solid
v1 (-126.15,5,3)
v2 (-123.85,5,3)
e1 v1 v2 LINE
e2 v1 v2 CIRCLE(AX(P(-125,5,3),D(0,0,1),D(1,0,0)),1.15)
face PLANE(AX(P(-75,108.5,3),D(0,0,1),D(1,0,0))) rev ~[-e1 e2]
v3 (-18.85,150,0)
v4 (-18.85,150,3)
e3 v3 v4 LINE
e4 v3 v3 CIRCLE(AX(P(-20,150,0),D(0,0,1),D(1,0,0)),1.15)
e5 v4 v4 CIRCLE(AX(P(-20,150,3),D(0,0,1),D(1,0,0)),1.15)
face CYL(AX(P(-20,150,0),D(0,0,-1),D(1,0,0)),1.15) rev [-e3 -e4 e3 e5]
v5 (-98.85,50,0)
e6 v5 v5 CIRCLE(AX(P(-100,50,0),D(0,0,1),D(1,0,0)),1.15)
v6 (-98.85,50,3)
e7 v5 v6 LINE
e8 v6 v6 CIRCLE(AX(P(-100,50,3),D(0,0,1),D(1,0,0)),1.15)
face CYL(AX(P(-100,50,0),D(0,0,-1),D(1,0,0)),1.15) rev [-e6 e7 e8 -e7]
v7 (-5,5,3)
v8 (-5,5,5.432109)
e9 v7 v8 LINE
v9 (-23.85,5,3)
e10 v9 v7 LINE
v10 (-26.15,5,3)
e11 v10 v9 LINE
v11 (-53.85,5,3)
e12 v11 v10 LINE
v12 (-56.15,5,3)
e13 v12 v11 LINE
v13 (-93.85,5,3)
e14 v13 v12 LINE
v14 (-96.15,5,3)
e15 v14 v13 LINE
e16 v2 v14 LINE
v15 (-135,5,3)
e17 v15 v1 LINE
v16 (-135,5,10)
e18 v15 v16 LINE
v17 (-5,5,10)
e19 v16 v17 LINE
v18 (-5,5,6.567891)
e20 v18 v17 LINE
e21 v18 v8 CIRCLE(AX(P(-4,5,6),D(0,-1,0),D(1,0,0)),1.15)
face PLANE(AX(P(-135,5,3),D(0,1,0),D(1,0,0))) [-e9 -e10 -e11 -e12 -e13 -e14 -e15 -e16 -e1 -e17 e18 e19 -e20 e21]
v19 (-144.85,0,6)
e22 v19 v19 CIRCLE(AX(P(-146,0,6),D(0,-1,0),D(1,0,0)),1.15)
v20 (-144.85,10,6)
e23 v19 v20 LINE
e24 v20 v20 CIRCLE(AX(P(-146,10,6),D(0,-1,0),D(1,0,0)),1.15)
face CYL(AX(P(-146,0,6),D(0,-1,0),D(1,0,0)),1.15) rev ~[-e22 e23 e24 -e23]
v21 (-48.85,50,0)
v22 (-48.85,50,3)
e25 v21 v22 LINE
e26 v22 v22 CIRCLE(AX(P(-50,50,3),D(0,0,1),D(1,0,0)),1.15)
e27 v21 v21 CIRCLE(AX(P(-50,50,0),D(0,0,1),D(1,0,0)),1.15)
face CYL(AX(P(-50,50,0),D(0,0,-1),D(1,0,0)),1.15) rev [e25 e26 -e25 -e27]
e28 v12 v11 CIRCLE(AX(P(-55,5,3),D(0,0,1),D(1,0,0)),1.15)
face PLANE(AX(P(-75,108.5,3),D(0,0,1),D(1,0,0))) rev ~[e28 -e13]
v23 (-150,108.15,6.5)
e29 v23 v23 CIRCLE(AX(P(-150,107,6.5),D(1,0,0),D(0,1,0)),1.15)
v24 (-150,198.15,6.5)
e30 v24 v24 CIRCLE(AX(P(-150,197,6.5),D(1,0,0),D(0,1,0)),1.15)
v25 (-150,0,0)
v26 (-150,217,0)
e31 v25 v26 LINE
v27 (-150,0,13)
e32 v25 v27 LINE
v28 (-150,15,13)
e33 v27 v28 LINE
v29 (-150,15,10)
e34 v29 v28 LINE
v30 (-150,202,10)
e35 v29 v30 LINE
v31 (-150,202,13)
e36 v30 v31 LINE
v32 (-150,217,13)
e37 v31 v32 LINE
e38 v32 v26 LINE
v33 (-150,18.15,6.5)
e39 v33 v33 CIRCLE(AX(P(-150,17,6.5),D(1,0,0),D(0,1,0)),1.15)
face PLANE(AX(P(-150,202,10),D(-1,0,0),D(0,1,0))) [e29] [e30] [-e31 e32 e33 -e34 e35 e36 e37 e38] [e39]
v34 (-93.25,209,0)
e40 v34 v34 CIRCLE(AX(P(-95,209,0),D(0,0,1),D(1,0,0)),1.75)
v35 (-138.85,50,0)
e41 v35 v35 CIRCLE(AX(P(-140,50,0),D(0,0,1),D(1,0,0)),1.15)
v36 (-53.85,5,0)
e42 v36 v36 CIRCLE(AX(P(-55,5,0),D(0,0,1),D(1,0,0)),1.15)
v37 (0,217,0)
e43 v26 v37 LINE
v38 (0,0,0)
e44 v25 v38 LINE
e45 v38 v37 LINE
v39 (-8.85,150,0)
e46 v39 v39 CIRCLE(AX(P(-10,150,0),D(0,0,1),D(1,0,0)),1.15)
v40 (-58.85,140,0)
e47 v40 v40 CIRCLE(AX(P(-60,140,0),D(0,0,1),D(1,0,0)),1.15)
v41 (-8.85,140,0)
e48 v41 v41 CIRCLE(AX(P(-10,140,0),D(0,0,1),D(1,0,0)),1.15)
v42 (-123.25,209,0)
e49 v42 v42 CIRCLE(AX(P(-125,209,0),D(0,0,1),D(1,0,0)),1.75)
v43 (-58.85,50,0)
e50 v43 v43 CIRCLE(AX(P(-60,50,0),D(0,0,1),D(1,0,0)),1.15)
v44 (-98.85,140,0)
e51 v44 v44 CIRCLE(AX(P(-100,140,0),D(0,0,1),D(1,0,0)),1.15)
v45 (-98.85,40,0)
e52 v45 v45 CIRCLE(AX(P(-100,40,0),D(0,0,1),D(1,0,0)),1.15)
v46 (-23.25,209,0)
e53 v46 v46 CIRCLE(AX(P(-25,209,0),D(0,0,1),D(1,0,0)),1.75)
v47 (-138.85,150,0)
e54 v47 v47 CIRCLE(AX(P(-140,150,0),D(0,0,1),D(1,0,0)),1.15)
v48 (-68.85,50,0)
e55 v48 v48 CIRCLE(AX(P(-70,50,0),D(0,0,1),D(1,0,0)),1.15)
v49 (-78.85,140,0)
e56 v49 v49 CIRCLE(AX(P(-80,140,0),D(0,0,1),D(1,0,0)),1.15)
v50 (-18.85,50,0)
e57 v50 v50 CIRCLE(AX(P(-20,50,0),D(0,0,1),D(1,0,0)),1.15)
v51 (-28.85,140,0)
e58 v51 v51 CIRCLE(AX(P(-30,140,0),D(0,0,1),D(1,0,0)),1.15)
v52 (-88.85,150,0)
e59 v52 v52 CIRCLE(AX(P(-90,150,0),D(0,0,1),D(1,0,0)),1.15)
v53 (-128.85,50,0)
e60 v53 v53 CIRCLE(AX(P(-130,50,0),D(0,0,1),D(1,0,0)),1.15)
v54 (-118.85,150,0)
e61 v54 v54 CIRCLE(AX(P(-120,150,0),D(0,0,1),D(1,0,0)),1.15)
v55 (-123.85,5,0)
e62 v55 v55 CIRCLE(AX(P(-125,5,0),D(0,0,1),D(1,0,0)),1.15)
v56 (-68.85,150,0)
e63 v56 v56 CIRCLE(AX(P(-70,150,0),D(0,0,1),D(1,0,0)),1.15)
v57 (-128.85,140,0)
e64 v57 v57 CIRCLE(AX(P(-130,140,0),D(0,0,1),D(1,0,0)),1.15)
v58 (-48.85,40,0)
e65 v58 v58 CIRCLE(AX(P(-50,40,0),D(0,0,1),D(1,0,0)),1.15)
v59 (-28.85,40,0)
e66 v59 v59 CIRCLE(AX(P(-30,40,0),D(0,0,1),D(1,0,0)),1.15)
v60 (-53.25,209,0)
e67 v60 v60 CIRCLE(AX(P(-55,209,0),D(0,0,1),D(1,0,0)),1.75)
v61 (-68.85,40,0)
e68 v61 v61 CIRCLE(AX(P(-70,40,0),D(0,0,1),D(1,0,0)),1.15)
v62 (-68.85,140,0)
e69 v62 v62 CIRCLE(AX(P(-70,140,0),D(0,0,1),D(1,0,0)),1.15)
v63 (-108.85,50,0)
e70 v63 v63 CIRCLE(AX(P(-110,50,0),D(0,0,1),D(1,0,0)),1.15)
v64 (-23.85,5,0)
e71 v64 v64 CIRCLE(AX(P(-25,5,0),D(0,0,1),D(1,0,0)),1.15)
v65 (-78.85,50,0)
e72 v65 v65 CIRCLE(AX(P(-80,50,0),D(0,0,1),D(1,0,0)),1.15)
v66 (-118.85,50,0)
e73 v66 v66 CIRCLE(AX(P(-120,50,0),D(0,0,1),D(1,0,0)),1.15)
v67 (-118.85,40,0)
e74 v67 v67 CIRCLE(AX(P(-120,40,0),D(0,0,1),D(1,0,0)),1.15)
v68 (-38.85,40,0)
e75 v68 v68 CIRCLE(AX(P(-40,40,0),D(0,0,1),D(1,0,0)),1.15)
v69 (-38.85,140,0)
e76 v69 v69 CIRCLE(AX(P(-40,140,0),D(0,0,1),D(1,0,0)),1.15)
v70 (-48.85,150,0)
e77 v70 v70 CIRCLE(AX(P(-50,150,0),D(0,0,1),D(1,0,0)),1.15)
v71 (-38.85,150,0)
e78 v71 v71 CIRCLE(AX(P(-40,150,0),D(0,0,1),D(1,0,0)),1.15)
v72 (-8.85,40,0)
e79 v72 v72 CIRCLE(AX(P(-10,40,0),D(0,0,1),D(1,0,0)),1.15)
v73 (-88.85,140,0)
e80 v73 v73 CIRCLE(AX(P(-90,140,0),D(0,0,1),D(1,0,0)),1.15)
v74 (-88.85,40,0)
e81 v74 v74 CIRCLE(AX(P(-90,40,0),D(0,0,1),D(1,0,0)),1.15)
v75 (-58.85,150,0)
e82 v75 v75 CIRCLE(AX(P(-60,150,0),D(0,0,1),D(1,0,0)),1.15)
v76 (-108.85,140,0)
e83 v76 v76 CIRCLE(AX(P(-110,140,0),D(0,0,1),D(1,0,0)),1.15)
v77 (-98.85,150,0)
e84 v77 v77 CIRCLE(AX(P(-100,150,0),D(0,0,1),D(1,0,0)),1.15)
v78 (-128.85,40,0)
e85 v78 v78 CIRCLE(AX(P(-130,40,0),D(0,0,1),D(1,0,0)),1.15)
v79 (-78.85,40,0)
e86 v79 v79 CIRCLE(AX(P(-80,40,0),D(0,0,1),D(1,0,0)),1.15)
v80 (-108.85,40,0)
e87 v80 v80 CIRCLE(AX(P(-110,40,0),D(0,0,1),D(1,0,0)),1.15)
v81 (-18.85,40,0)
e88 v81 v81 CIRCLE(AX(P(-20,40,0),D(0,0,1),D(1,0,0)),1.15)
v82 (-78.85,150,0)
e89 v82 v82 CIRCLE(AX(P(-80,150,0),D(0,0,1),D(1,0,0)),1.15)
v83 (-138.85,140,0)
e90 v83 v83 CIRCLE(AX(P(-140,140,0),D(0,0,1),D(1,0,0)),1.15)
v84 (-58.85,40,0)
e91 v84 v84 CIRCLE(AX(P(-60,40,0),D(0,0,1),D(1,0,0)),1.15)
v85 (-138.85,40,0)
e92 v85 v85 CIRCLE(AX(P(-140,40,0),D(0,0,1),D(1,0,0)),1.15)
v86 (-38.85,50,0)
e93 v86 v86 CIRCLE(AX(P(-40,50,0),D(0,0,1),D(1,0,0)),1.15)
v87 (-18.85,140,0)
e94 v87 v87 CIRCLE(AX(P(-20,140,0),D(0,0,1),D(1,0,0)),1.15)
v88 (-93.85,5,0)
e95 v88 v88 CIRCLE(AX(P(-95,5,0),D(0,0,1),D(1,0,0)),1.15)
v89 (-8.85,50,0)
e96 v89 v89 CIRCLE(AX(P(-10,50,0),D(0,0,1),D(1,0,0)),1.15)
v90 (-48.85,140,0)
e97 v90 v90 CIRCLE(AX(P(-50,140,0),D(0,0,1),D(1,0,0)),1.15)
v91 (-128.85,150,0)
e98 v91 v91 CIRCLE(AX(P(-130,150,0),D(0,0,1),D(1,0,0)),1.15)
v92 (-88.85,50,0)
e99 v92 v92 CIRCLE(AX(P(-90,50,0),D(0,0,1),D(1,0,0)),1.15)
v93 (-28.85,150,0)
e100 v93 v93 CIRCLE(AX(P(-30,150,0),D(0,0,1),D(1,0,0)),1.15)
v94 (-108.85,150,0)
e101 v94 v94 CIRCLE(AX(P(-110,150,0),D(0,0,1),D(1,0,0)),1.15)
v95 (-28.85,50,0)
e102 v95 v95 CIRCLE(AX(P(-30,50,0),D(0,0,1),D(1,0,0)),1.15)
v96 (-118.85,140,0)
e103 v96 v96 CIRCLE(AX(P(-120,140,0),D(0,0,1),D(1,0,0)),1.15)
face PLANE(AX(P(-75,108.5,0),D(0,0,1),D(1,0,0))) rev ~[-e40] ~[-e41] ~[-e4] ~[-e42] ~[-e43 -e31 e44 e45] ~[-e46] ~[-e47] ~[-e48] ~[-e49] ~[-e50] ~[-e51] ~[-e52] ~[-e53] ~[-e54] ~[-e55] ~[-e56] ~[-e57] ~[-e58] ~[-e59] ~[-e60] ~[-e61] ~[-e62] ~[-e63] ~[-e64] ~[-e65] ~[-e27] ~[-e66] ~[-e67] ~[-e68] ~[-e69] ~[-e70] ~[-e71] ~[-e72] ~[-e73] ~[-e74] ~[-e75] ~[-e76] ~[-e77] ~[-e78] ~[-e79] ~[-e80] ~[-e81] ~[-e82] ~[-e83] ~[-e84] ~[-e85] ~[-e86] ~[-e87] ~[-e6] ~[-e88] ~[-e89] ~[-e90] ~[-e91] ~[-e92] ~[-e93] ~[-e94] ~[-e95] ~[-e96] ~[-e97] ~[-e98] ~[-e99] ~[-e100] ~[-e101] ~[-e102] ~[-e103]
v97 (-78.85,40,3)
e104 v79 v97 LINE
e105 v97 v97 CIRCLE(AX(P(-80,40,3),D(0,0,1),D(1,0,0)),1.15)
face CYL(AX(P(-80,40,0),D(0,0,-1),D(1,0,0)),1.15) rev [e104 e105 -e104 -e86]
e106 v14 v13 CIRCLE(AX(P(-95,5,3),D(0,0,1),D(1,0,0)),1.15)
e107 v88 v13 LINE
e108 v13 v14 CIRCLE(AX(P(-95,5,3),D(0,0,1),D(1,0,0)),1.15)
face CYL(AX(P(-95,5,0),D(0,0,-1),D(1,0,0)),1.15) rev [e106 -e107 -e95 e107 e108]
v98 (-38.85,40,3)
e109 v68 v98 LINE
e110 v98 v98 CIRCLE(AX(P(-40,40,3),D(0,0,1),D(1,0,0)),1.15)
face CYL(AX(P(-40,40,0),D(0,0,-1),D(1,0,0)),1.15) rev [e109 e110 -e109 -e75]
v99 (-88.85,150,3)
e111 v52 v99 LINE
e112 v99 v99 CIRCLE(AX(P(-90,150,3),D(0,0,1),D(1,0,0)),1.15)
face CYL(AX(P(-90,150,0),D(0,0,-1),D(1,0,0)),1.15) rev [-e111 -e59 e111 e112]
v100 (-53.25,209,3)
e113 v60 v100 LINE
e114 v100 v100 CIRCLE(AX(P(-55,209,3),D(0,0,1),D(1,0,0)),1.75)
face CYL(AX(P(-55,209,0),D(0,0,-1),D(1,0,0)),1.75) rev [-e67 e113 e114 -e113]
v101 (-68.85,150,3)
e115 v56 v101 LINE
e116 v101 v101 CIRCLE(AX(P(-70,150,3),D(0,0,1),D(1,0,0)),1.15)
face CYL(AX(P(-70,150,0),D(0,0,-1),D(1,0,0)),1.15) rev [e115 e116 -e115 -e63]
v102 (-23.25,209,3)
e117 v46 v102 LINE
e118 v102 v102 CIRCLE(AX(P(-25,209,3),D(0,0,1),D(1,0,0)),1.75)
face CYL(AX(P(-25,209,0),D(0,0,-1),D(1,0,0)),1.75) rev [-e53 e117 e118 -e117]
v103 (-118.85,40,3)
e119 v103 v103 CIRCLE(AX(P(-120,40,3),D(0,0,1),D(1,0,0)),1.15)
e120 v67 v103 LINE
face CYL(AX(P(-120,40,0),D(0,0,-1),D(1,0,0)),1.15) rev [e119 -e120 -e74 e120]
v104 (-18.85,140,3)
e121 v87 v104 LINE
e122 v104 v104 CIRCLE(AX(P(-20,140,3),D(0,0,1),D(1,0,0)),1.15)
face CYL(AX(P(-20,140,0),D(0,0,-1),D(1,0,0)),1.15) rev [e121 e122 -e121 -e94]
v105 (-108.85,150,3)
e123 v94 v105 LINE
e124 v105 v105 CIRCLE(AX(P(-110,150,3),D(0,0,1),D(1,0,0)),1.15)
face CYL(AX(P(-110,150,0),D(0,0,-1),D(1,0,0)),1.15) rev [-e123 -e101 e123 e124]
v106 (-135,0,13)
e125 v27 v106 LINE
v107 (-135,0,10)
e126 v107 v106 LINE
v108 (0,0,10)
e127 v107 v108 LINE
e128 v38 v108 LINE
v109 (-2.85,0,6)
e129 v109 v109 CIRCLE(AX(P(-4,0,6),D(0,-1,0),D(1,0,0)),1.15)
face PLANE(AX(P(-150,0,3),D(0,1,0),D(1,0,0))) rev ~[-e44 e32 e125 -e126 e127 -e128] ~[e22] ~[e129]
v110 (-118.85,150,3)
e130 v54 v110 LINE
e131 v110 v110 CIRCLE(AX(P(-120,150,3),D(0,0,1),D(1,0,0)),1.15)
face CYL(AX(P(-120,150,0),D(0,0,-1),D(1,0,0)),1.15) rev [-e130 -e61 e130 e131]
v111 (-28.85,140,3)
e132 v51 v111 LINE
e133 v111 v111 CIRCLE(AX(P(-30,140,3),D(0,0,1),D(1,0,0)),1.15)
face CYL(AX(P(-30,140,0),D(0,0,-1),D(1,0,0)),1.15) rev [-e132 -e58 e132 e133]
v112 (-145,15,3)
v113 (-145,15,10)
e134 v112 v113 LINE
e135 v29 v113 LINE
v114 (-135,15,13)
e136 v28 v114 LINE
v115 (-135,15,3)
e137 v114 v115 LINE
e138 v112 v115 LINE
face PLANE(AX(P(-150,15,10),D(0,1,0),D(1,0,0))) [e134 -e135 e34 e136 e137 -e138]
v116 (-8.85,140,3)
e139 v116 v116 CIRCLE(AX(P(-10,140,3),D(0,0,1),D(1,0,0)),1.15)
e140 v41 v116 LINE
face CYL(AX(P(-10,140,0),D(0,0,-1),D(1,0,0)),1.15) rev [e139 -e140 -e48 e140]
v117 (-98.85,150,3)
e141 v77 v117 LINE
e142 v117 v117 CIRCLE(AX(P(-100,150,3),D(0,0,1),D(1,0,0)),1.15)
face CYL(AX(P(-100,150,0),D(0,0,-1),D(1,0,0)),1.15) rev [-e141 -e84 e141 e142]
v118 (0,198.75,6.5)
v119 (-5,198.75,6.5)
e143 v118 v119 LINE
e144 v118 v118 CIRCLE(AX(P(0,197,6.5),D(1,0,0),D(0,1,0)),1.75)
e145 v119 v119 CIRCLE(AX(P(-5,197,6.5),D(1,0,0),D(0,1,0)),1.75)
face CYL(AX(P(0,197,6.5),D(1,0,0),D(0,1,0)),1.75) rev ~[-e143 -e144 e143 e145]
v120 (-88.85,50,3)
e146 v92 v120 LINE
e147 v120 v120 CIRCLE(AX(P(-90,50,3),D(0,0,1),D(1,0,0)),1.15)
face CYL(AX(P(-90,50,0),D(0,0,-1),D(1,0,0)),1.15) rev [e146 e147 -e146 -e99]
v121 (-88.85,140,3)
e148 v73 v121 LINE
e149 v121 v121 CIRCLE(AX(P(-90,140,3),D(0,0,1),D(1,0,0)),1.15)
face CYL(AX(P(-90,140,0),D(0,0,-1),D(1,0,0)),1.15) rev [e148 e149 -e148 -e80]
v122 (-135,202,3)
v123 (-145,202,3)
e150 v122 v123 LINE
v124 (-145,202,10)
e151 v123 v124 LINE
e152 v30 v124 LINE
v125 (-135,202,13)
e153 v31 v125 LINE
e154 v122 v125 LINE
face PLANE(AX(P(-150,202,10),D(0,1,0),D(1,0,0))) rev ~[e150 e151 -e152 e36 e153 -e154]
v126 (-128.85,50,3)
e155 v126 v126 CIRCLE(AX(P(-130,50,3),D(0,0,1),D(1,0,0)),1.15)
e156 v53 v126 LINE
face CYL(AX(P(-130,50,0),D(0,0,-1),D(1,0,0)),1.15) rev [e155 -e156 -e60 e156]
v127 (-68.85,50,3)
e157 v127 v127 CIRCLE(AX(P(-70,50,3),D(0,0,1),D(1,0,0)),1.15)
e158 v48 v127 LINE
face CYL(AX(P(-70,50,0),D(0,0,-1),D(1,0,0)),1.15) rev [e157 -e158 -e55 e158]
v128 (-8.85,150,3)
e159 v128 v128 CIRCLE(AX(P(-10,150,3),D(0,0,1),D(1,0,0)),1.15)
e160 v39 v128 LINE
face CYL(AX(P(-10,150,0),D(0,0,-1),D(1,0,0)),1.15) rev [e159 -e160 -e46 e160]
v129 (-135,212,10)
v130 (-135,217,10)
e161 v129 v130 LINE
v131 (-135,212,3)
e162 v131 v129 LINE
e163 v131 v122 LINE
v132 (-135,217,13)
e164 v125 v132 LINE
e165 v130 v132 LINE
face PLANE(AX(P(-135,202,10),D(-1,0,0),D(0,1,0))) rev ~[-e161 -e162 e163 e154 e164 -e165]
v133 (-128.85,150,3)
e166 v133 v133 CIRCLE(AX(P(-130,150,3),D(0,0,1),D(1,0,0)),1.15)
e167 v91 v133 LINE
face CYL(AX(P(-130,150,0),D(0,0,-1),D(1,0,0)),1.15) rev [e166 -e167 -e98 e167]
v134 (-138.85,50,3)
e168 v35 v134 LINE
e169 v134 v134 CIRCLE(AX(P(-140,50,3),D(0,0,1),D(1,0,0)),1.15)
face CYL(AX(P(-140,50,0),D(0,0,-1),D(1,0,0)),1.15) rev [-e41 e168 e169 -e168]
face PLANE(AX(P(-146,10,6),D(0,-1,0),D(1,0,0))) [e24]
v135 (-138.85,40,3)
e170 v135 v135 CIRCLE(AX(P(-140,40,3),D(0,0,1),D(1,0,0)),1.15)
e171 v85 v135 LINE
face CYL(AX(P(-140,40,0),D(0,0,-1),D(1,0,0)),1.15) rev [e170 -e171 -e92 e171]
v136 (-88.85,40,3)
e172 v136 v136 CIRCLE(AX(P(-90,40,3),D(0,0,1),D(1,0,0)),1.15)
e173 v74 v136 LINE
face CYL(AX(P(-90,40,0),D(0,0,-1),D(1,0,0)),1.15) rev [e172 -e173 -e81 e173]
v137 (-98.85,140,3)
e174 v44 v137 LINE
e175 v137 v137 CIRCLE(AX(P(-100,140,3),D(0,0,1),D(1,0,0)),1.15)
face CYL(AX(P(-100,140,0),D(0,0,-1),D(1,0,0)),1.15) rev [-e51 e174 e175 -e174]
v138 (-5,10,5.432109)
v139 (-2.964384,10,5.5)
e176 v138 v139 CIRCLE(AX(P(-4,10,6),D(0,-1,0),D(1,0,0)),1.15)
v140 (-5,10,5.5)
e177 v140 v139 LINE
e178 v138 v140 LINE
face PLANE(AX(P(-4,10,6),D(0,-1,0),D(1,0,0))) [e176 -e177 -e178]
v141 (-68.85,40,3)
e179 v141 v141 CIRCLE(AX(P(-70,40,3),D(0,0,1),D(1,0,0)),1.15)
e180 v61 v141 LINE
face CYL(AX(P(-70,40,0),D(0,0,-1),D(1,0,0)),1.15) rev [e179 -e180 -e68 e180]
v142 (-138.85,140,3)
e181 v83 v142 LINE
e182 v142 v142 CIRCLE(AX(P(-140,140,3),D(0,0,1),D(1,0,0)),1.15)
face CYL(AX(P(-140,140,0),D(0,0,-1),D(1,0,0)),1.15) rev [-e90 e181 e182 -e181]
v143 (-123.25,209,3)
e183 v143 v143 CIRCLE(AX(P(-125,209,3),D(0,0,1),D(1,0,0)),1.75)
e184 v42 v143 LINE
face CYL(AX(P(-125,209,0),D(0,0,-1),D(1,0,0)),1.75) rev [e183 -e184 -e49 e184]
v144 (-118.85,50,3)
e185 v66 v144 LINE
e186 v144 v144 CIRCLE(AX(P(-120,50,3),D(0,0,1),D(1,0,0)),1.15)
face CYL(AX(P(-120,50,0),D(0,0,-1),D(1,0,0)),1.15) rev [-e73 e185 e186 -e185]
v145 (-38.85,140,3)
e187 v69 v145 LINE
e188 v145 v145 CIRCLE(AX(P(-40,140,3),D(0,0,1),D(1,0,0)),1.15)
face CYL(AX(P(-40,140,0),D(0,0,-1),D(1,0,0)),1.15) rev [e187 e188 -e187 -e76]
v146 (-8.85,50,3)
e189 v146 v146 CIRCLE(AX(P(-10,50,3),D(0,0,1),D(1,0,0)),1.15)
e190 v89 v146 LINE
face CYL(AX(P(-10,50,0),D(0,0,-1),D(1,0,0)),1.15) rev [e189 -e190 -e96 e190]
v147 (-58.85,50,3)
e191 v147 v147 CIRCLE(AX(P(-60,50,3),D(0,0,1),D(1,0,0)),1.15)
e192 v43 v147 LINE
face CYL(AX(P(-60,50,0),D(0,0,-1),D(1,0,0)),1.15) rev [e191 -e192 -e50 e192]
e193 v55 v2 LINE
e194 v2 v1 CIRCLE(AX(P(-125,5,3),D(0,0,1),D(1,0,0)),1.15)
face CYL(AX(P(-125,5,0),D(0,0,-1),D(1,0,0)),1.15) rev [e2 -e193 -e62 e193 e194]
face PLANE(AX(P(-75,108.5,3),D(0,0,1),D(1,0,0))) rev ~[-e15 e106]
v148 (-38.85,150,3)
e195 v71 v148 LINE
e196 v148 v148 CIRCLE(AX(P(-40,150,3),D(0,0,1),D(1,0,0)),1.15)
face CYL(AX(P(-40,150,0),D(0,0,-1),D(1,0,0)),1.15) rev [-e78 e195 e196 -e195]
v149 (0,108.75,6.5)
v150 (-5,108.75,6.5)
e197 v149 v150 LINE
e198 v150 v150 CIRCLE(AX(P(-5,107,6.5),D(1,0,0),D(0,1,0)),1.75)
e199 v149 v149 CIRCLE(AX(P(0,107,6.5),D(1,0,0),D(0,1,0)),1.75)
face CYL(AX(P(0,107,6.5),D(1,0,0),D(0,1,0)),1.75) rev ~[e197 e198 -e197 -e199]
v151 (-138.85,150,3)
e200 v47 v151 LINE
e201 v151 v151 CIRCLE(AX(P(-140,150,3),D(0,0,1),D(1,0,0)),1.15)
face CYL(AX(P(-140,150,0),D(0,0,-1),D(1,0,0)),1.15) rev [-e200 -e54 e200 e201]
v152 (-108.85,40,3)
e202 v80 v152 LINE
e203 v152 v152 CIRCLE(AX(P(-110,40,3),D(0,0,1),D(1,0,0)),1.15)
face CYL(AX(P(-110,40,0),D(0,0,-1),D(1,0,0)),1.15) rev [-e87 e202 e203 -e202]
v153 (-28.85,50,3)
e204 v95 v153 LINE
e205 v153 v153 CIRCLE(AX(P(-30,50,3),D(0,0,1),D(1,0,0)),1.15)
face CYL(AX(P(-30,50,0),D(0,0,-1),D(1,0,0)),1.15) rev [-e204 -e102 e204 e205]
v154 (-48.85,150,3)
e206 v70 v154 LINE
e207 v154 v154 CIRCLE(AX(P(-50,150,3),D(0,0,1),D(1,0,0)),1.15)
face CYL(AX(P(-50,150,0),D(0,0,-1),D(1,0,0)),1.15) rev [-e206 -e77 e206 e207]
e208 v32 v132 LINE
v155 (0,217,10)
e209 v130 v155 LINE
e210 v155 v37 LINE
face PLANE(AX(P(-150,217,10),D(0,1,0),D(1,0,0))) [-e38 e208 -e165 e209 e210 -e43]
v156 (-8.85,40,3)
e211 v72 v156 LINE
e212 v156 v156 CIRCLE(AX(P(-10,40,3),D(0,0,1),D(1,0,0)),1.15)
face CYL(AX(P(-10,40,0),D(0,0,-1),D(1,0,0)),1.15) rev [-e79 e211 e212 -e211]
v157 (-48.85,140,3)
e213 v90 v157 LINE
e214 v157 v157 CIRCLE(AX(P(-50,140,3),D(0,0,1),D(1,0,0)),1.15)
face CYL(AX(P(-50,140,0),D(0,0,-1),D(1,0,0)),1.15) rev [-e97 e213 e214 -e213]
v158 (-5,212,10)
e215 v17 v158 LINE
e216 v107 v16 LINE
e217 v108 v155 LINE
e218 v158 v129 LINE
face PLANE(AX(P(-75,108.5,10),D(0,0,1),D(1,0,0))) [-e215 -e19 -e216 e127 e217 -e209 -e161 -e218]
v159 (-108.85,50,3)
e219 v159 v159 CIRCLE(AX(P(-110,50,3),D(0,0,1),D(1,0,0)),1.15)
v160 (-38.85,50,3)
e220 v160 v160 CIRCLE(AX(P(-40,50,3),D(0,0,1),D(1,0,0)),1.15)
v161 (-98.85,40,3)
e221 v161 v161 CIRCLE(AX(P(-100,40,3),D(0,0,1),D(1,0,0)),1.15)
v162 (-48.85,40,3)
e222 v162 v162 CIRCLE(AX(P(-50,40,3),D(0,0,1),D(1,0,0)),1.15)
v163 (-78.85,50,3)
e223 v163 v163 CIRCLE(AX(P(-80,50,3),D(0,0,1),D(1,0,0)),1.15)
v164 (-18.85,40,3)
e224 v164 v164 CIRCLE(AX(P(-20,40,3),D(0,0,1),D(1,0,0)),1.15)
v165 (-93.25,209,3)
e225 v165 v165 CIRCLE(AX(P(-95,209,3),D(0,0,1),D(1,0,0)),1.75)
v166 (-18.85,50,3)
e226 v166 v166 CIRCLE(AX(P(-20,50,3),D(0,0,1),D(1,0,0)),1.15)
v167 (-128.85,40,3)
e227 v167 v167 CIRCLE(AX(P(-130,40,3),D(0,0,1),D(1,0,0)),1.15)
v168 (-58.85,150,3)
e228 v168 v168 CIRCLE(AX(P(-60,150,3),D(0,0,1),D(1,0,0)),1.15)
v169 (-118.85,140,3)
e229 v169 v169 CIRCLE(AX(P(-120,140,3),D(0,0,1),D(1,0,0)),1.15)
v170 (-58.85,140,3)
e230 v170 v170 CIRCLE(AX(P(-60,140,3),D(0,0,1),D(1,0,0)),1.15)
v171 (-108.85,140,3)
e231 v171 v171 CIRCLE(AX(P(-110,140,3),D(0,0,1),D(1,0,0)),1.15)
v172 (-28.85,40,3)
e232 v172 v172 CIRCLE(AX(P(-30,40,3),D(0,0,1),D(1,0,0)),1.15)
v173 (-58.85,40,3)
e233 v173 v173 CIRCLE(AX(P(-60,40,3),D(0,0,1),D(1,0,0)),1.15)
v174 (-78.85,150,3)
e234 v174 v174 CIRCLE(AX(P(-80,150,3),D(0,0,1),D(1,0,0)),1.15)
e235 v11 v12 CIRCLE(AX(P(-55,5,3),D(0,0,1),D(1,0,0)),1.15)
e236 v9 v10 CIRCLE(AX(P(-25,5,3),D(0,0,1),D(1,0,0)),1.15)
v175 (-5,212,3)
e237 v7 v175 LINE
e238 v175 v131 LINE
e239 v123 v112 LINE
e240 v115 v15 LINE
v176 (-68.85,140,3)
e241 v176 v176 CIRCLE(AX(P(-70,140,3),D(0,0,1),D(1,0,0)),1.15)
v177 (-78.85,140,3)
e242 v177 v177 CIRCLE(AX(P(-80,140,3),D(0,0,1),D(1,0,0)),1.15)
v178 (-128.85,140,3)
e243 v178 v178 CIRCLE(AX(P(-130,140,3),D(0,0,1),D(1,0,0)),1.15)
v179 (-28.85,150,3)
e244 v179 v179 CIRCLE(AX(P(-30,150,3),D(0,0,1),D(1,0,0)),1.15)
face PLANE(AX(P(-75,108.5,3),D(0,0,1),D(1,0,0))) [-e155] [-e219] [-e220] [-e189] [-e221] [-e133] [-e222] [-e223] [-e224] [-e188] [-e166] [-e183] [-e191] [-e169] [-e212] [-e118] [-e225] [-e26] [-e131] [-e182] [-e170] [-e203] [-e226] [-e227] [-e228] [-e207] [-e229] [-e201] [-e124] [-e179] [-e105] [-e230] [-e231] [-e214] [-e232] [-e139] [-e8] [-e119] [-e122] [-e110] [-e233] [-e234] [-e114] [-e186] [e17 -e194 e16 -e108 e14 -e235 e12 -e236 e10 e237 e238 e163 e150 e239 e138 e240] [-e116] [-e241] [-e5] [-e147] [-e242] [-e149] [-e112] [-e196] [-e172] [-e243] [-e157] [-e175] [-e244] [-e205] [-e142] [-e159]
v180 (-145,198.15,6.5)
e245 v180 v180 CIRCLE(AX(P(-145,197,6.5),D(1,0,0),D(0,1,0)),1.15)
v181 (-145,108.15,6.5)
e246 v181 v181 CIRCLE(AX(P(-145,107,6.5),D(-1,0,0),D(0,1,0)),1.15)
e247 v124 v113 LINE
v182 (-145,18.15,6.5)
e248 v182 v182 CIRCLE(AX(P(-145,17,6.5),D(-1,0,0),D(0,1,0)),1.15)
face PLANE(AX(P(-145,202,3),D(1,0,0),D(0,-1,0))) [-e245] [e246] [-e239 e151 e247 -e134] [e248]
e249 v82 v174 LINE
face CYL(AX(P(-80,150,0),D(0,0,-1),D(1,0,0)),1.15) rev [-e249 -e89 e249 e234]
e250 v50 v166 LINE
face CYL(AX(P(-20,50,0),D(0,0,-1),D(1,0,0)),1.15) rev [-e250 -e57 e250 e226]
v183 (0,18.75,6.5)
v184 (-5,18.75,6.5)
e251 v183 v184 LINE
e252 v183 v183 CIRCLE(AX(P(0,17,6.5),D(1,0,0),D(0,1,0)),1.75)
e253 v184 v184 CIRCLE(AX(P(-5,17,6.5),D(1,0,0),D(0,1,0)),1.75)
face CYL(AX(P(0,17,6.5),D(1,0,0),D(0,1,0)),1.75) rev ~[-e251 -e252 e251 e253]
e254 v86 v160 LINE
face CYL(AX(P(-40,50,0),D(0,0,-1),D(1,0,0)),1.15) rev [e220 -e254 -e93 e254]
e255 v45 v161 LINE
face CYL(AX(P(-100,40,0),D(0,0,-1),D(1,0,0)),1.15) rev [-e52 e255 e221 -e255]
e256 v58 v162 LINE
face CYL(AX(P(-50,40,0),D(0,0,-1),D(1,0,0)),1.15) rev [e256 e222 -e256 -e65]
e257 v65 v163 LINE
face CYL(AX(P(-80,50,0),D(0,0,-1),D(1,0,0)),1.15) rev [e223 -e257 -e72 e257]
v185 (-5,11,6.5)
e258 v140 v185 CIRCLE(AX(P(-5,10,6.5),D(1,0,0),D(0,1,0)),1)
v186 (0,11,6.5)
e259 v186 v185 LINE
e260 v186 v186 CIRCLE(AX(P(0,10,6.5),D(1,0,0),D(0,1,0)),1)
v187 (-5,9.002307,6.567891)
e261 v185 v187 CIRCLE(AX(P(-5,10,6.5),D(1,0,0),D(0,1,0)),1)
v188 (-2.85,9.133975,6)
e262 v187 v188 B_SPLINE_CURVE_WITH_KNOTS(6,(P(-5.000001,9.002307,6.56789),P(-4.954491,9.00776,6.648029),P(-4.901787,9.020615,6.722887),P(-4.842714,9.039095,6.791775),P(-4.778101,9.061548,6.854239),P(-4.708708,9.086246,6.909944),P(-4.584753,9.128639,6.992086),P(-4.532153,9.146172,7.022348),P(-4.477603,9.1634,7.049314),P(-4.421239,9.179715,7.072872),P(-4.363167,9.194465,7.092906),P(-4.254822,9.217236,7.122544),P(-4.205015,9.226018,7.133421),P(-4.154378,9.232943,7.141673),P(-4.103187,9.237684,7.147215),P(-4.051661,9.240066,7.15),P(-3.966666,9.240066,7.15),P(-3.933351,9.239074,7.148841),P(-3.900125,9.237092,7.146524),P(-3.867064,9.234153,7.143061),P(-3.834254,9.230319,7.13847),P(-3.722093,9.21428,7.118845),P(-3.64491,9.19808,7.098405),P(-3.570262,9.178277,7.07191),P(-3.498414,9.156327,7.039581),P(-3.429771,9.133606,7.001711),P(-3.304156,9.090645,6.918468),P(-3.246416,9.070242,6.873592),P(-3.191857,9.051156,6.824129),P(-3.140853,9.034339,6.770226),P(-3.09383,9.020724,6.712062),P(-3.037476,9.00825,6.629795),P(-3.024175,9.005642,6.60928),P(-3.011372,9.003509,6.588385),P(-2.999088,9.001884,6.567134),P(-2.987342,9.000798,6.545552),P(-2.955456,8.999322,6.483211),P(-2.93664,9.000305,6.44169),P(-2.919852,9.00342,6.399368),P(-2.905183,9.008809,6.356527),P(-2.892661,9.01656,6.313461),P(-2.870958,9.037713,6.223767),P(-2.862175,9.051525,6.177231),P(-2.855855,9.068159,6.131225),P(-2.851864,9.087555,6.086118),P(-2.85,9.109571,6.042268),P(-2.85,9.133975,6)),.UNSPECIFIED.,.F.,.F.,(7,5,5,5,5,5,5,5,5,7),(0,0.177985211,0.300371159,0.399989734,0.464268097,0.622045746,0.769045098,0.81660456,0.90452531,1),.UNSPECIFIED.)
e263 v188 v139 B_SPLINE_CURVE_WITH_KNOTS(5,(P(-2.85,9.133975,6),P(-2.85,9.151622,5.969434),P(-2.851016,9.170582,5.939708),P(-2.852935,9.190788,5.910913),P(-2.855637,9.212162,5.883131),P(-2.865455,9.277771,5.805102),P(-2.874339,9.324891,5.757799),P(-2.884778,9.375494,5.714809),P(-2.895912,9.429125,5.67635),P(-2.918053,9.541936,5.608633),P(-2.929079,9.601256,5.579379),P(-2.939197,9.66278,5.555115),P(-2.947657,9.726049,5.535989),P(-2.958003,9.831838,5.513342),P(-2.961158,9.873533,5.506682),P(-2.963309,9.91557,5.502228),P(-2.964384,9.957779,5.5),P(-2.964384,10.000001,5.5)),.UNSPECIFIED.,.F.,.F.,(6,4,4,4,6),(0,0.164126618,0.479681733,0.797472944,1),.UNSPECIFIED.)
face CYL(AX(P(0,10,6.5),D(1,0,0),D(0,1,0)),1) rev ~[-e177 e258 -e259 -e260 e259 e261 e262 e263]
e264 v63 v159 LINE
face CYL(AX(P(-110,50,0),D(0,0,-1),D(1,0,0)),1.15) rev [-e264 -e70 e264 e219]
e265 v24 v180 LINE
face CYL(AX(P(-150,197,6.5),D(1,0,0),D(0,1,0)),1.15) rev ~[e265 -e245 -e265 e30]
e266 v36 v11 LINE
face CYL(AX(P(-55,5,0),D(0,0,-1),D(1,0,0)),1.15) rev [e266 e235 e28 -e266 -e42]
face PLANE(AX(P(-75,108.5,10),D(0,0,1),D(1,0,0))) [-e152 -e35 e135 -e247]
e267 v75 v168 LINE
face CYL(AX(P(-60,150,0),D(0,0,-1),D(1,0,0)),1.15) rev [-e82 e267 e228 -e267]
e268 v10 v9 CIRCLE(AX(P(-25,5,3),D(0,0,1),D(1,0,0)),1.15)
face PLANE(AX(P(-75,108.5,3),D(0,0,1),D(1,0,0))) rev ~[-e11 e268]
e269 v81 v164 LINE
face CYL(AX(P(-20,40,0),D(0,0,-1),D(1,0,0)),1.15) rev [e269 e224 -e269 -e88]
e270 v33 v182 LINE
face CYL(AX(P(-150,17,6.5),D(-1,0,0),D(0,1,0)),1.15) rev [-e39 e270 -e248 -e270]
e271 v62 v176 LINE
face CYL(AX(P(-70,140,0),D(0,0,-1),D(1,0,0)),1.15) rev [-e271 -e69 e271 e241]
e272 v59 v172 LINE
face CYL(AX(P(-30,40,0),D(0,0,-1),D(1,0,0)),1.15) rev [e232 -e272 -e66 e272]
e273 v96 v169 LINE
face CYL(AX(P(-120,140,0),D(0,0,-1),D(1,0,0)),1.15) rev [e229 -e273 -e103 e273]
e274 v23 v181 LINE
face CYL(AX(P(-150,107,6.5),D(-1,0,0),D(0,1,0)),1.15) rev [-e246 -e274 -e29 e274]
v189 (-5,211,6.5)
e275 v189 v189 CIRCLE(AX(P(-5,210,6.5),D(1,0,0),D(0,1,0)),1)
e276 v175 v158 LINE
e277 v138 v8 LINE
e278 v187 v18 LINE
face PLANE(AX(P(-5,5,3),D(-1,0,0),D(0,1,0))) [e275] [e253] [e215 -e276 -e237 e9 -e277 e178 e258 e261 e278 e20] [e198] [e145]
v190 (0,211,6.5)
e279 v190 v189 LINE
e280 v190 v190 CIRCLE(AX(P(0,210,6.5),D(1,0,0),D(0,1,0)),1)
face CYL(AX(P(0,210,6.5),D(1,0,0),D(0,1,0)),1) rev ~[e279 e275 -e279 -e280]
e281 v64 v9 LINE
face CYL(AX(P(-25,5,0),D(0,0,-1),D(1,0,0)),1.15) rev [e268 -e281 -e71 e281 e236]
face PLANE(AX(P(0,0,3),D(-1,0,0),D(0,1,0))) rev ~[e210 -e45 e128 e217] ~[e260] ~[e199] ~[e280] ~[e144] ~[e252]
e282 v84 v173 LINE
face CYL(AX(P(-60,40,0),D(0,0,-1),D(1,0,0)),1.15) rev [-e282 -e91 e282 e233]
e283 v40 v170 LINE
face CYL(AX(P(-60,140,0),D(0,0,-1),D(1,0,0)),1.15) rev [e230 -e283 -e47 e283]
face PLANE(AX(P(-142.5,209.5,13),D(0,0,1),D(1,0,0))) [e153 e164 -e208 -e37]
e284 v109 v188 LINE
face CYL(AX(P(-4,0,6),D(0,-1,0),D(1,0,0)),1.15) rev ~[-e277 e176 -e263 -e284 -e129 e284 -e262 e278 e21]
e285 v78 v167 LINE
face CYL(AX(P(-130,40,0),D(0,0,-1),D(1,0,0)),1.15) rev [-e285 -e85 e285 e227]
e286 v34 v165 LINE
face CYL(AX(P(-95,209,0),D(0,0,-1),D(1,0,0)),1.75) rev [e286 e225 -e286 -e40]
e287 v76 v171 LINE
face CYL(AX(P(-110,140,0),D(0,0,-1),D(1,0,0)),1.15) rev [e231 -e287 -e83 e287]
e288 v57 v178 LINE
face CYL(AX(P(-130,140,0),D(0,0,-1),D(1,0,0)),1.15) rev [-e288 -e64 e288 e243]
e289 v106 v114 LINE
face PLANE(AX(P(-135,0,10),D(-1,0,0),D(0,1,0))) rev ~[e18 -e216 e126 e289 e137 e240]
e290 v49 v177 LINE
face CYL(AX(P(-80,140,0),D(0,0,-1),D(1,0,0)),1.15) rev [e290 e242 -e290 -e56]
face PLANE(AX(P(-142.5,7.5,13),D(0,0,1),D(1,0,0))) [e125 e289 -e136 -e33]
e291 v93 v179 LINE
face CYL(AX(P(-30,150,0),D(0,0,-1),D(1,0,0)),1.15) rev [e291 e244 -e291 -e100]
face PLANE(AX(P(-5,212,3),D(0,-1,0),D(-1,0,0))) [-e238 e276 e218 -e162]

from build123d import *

# Parameters (mm, degrees)
SKETCH_W        = 150
SKETCH_H        = 217
SKETCH_R        = 1.15
SKETCH_R_2      = 1.75
PAD_DEPTH       = 3
SKETCH001_W     = 150
SKETCH001_H     = 217
PAD001_DEPTH    = 7
SKETCH002_R     = 1.75
SKETCH002_R_2   = 1
POCKET_DEPTH    = 5
SKETCH003_R     = 1.15
POCKET001_DEPTH = 7.5
SKETCH004_R     = 1.15
POCKET002_DEPTH = 10
SKETCH005_W     = 15
SKETCH005_H     = 15
PAD002_DEPTH    = 3


with BuildPart() as part:
    # Sketch → Pad (new body)
    with BuildSketch(Plane.XY):
        with Locations((-75, 108.5)):
            Rectangle(SKETCH_W, SKETCH_H)
        with Locations((-140, 40)):
            Circle(SKETCH_R, mode=Mode.SUBTRACT)
        with Locations((-130, 40)):
            Circle(SKETCH_R, mode=Mode.SUBTRACT)
        with Locations((-120, 40)):
            Circle(SKETCH_R, mode=Mode.SUBTRACT)
        with Locations((-110, 40)):
            Circle(SKETCH_R, mode=Mode.SUBTRACT)
        with Locations((-100, 40)):
            Circle(SKETCH_R, mode=Mode.SUBTRACT)
        with Locations((-90, 40)):
            Circle(SKETCH_R, mode=Mode.SUBTRACT)
        with Locations((-80, 40)):
            Circle(SKETCH_R, mode=Mode.SUBTRACT)
        with Locations((-70, 40)):
            Circle(SKETCH_R, mode=Mode.SUBTRACT)
        with Locations((-60, 40)):
            Circle(SKETCH_R, mode=Mode.SUBTRACT)
        with Locations((-50, 40)):
            Circle(SKETCH_R, mode=Mode.SUBTRACT)
        with Locations((-40, 40)):
            Circle(SKETCH_R, mode=Mode.SUBTRACT)
        with Locations((-30, 40)):
            Circle(SKETCH_R, mode=Mode.SUBTRACT)
        with Locations((-20, 40)):
            Circle(SKETCH_R, mode=Mode.SUBTRACT)
        with Locations((-10, 40)):
            Circle(SKETCH_R, mode=Mode.SUBTRACT)
        with Locations((-140, 50)):
            Circle(SKETCH_R, mode=Mode.SUBTRACT)
        with Locations((-130, 50)):
            Circle(SKETCH_R, mode=Mode.SUBTRACT)
        with Locations((-120, 50)):
            Circle(SKETCH_R, mode=Mode.SUBTRACT)
        with Locations((-110, 50)):
            Circle(SKETCH_R, mode=Mode.SUBTRACT)
        with Locations((-100, 50)):
            Circle(SKETCH_R, mode=Mode.SUBTRACT)
        with Locations((-90, 50)):
            Circle(SKETCH_R, mode=Mode.SUBTRACT)
        with Locations((-80, 50)):
            Circle(SKETCH_R, mode=Mode.SUBTRACT)
        with Locations((-70, 50)):
            Circle(SKETCH_R, mode=Mode.SUBTRACT)
        with Locations((-60, 50)):
            Circle(SKETCH_R, mode=Mode.SUBTRACT)
        with Locations((-50, 50)):
            Circle(SKETCH_R, mode=Mode.SUBTRACT)
        with Locations((-40, 50)):
            Circle(SKETCH_R, mode=Mode.SUBTRACT)
        with Locations((-30, 50)):
            Circle(SKETCH_R, mode=Mode.SUBTRACT)
        with Locations((-20, 50)):
            Circle(SKETCH_R, mode=Mode.SUBTRACT)
        with Locations((-10, 50)):
            Circle(SKETCH_R, mode=Mode.SUBTRACT)
        with Locations((-140, 140)):
            Circle(SKETCH_R, mode=Mode.SUBTRACT)
        with Locations((-130, 140)):
            Circle(SKETCH_R, mode=Mode.SUBTRACT)
        with Locations((-120, 140)):
            Circle(SKETCH_R, mode=Mode.SUBTRACT)
        with Locations((-110, 140)):
            Circle(SKETCH_R, mode=Mode.SUBTRACT)
        with Locations((-100, 140)):
            Circle(SKETCH_R, mode=Mode.SUBTRACT)
        with Locations((-90, 140)):
            Circle(SKETCH_R, mode=Mode.SUBTRACT)
        with Locations((-80, 140)):
            Circle(SKETCH_R, mode=Mode.SUBTRACT)
        with Locations((-70, 140)):
            Circle(SKETCH_R, mode=Mode.SUBTRACT)
        with Locations((-60, 140)):
            Circle(SKETCH_R, mode=Mode.SUBTRACT)
        with Locations((-50, 140)):
            Circle(SKETCH_R, mode=Mode.SUBTRACT)
        with Locations((-40, 140)):
            Circle(SKETCH_R, mode=Mode.SUBTRACT)
        with Locations((-30, 140)):
            Circle(SKETCH_R, mode=Mode.SUBTRACT)
        with Locations((-20, 140)):
            Circle(SKETCH_R, mode=Mode.SUBTRACT)
        with Locations((-10, 140)):
            Circle(SKETCH_R, mode=Mode.SUBTRACT)
        with Locations((-140, 150)):
            Circle(SKETCH_R, mode=Mode.SUBTRACT)
        with Locations((-130, 150)):
            Circle(SKETCH_R, mode=Mode.SUBTRACT)
        with Locations((-120, 150)):
            Circle(SKETCH_R, mode=Mode.SUBTRACT)
        with Locations((-110, 150)):
            Circle(SKETCH_R, mode=Mode.SUBTRACT)
        with Locations((-100, 150)):
            Circle(SKETCH_R, mode=Mode.SUBTRACT)
        with Locations((-90, 150)):
            Circle(SKETCH_R, mode=Mode.SUBTRACT)
        with Locations((-80, 150)):
            Circle(SKETCH_R, mode=Mode.SUBTRACT)
        with Locations((-70, 150)):
            Circle(SKETCH_R, mode=Mode.SUBTRACT)
        with Locations((-60, 150)):
            Circle(SKETCH_R, mode=Mode.SUBTRACT)
        with Locations((-50, 150)):
            Circle(SKETCH_R, mode=Mode.SUBTRACT)
        with Locations((-40, 150)):
            Circle(SKETCH_R, mode=Mode.SUBTRACT)
        with Locations((-30, 150)):
            Circle(SKETCH_R, mode=Mode.SUBTRACT)
        with Locations((-20, 150)):
            Circle(SKETCH_R, mode=Mode.SUBTRACT)
        with Locations((-10, 150)):
            Circle(SKETCH_R, mode=Mode.SUBTRACT)
        with Locations((-125, 209)):
            Circle(SKETCH_R_2, mode=Mode.SUBTRACT)
        with Locations((-55, 209)):
            Circle(SKETCH_R_2, mode=Mode.SUBTRACT)
        with Locations((-125, 5)):
            Circle(SKETCH_R, mode=Mode.SUBTRACT)
        with Locations((-55, 5)):
            Circle(SKETCH_R, mode=Mode.SUBTRACT)
        with Locations((-25, 5)):
            Circle(SKETCH_R, mode=Mode.SUBTRACT)
        with Locations((-95, 5)):
            Circle(SKETCH_R, mode=Mode.SUBTRACT)
        with Locations((-25, 209)):
            Circle(SKETCH_R_2, mode=Mode.SUBTRACT)
        with Locations((-95, 209)):
            Circle(SKETCH_R_2, mode=Mode.SUBTRACT)
    extrude(amount=PAD_DEPTH)

    # Sketch001 → Pad001 (join)
    with BuildSketch(Plane.XY.offset(3)):
        with Locations((-75, 108.5)):
            Rectangle(SKETCH001_W, SKETCH001_H)
        Polygon((-5, 212), (-135, 212), (-135, 202), (-145, 202), (-145, 15), (-135, 15), (-135, 5), (-5, 5), align=None, mode=Mode.SUBTRACT)
    extrude(amount=PAD001_DEPTH)

    # Sketch002 → Pocket (cut)
    with BuildSketch(Plane.YZ):
        with Locations((17, 6.5)):
            Circle(SKETCH002_R)
        with Locations((107, 6.5)):
            Circle(SKETCH002_R)
        with Locations((197, 6.5)):
            Circle(SKETCH002_R)
        with Locations((10, 6.5)):
            Circle(SKETCH002_R_2)
        with Locations((210, 6.5)):
            Circle(SKETCH002_R_2)
    extrude(amount=-POCKET_DEPTH, mode=Mode.SUBTRACT)

    # Sketch003 → Pocket001 (cut, symmetric)
    with BuildSketch(Plane.YZ.offset(-150)):
        with Locations((107, 6.5)):
            Circle(SKETCH003_R)
        with Locations((17, 6.5)):
            Circle(SKETCH003_R)
        with Locations((197, 6.5)):
            Circle(SKETCH003_R)
    extrude(amount=POCKET001_DEPTH, both=True, mode=Mode.SUBTRACT)

    # Sketch004 → Pocket002 (cut)
    with BuildSketch(Plane.XZ):
        with Locations((-4, 6)):
            Circle(SKETCH004_R)
        with Locations((-146, 6)):
            Circle(SKETCH004_R)
    extrude(amount=-POCKET002_DEPTH, mode=Mode.SUBTRACT)

    # Sketch005 → Pad002 (join)
    with BuildSketch(Plane.XY.offset(10)):
        with Locations((-142.5, 209.5)):
            Rectangle(SKETCH005_W, SKETCH005_H)
        with Locations((-142.5, 7.5)):
            Rectangle(SKETCH005_W, SKETCH005_H)
    extrude(amount=PAD002_DEPTH)


solid = part.part
